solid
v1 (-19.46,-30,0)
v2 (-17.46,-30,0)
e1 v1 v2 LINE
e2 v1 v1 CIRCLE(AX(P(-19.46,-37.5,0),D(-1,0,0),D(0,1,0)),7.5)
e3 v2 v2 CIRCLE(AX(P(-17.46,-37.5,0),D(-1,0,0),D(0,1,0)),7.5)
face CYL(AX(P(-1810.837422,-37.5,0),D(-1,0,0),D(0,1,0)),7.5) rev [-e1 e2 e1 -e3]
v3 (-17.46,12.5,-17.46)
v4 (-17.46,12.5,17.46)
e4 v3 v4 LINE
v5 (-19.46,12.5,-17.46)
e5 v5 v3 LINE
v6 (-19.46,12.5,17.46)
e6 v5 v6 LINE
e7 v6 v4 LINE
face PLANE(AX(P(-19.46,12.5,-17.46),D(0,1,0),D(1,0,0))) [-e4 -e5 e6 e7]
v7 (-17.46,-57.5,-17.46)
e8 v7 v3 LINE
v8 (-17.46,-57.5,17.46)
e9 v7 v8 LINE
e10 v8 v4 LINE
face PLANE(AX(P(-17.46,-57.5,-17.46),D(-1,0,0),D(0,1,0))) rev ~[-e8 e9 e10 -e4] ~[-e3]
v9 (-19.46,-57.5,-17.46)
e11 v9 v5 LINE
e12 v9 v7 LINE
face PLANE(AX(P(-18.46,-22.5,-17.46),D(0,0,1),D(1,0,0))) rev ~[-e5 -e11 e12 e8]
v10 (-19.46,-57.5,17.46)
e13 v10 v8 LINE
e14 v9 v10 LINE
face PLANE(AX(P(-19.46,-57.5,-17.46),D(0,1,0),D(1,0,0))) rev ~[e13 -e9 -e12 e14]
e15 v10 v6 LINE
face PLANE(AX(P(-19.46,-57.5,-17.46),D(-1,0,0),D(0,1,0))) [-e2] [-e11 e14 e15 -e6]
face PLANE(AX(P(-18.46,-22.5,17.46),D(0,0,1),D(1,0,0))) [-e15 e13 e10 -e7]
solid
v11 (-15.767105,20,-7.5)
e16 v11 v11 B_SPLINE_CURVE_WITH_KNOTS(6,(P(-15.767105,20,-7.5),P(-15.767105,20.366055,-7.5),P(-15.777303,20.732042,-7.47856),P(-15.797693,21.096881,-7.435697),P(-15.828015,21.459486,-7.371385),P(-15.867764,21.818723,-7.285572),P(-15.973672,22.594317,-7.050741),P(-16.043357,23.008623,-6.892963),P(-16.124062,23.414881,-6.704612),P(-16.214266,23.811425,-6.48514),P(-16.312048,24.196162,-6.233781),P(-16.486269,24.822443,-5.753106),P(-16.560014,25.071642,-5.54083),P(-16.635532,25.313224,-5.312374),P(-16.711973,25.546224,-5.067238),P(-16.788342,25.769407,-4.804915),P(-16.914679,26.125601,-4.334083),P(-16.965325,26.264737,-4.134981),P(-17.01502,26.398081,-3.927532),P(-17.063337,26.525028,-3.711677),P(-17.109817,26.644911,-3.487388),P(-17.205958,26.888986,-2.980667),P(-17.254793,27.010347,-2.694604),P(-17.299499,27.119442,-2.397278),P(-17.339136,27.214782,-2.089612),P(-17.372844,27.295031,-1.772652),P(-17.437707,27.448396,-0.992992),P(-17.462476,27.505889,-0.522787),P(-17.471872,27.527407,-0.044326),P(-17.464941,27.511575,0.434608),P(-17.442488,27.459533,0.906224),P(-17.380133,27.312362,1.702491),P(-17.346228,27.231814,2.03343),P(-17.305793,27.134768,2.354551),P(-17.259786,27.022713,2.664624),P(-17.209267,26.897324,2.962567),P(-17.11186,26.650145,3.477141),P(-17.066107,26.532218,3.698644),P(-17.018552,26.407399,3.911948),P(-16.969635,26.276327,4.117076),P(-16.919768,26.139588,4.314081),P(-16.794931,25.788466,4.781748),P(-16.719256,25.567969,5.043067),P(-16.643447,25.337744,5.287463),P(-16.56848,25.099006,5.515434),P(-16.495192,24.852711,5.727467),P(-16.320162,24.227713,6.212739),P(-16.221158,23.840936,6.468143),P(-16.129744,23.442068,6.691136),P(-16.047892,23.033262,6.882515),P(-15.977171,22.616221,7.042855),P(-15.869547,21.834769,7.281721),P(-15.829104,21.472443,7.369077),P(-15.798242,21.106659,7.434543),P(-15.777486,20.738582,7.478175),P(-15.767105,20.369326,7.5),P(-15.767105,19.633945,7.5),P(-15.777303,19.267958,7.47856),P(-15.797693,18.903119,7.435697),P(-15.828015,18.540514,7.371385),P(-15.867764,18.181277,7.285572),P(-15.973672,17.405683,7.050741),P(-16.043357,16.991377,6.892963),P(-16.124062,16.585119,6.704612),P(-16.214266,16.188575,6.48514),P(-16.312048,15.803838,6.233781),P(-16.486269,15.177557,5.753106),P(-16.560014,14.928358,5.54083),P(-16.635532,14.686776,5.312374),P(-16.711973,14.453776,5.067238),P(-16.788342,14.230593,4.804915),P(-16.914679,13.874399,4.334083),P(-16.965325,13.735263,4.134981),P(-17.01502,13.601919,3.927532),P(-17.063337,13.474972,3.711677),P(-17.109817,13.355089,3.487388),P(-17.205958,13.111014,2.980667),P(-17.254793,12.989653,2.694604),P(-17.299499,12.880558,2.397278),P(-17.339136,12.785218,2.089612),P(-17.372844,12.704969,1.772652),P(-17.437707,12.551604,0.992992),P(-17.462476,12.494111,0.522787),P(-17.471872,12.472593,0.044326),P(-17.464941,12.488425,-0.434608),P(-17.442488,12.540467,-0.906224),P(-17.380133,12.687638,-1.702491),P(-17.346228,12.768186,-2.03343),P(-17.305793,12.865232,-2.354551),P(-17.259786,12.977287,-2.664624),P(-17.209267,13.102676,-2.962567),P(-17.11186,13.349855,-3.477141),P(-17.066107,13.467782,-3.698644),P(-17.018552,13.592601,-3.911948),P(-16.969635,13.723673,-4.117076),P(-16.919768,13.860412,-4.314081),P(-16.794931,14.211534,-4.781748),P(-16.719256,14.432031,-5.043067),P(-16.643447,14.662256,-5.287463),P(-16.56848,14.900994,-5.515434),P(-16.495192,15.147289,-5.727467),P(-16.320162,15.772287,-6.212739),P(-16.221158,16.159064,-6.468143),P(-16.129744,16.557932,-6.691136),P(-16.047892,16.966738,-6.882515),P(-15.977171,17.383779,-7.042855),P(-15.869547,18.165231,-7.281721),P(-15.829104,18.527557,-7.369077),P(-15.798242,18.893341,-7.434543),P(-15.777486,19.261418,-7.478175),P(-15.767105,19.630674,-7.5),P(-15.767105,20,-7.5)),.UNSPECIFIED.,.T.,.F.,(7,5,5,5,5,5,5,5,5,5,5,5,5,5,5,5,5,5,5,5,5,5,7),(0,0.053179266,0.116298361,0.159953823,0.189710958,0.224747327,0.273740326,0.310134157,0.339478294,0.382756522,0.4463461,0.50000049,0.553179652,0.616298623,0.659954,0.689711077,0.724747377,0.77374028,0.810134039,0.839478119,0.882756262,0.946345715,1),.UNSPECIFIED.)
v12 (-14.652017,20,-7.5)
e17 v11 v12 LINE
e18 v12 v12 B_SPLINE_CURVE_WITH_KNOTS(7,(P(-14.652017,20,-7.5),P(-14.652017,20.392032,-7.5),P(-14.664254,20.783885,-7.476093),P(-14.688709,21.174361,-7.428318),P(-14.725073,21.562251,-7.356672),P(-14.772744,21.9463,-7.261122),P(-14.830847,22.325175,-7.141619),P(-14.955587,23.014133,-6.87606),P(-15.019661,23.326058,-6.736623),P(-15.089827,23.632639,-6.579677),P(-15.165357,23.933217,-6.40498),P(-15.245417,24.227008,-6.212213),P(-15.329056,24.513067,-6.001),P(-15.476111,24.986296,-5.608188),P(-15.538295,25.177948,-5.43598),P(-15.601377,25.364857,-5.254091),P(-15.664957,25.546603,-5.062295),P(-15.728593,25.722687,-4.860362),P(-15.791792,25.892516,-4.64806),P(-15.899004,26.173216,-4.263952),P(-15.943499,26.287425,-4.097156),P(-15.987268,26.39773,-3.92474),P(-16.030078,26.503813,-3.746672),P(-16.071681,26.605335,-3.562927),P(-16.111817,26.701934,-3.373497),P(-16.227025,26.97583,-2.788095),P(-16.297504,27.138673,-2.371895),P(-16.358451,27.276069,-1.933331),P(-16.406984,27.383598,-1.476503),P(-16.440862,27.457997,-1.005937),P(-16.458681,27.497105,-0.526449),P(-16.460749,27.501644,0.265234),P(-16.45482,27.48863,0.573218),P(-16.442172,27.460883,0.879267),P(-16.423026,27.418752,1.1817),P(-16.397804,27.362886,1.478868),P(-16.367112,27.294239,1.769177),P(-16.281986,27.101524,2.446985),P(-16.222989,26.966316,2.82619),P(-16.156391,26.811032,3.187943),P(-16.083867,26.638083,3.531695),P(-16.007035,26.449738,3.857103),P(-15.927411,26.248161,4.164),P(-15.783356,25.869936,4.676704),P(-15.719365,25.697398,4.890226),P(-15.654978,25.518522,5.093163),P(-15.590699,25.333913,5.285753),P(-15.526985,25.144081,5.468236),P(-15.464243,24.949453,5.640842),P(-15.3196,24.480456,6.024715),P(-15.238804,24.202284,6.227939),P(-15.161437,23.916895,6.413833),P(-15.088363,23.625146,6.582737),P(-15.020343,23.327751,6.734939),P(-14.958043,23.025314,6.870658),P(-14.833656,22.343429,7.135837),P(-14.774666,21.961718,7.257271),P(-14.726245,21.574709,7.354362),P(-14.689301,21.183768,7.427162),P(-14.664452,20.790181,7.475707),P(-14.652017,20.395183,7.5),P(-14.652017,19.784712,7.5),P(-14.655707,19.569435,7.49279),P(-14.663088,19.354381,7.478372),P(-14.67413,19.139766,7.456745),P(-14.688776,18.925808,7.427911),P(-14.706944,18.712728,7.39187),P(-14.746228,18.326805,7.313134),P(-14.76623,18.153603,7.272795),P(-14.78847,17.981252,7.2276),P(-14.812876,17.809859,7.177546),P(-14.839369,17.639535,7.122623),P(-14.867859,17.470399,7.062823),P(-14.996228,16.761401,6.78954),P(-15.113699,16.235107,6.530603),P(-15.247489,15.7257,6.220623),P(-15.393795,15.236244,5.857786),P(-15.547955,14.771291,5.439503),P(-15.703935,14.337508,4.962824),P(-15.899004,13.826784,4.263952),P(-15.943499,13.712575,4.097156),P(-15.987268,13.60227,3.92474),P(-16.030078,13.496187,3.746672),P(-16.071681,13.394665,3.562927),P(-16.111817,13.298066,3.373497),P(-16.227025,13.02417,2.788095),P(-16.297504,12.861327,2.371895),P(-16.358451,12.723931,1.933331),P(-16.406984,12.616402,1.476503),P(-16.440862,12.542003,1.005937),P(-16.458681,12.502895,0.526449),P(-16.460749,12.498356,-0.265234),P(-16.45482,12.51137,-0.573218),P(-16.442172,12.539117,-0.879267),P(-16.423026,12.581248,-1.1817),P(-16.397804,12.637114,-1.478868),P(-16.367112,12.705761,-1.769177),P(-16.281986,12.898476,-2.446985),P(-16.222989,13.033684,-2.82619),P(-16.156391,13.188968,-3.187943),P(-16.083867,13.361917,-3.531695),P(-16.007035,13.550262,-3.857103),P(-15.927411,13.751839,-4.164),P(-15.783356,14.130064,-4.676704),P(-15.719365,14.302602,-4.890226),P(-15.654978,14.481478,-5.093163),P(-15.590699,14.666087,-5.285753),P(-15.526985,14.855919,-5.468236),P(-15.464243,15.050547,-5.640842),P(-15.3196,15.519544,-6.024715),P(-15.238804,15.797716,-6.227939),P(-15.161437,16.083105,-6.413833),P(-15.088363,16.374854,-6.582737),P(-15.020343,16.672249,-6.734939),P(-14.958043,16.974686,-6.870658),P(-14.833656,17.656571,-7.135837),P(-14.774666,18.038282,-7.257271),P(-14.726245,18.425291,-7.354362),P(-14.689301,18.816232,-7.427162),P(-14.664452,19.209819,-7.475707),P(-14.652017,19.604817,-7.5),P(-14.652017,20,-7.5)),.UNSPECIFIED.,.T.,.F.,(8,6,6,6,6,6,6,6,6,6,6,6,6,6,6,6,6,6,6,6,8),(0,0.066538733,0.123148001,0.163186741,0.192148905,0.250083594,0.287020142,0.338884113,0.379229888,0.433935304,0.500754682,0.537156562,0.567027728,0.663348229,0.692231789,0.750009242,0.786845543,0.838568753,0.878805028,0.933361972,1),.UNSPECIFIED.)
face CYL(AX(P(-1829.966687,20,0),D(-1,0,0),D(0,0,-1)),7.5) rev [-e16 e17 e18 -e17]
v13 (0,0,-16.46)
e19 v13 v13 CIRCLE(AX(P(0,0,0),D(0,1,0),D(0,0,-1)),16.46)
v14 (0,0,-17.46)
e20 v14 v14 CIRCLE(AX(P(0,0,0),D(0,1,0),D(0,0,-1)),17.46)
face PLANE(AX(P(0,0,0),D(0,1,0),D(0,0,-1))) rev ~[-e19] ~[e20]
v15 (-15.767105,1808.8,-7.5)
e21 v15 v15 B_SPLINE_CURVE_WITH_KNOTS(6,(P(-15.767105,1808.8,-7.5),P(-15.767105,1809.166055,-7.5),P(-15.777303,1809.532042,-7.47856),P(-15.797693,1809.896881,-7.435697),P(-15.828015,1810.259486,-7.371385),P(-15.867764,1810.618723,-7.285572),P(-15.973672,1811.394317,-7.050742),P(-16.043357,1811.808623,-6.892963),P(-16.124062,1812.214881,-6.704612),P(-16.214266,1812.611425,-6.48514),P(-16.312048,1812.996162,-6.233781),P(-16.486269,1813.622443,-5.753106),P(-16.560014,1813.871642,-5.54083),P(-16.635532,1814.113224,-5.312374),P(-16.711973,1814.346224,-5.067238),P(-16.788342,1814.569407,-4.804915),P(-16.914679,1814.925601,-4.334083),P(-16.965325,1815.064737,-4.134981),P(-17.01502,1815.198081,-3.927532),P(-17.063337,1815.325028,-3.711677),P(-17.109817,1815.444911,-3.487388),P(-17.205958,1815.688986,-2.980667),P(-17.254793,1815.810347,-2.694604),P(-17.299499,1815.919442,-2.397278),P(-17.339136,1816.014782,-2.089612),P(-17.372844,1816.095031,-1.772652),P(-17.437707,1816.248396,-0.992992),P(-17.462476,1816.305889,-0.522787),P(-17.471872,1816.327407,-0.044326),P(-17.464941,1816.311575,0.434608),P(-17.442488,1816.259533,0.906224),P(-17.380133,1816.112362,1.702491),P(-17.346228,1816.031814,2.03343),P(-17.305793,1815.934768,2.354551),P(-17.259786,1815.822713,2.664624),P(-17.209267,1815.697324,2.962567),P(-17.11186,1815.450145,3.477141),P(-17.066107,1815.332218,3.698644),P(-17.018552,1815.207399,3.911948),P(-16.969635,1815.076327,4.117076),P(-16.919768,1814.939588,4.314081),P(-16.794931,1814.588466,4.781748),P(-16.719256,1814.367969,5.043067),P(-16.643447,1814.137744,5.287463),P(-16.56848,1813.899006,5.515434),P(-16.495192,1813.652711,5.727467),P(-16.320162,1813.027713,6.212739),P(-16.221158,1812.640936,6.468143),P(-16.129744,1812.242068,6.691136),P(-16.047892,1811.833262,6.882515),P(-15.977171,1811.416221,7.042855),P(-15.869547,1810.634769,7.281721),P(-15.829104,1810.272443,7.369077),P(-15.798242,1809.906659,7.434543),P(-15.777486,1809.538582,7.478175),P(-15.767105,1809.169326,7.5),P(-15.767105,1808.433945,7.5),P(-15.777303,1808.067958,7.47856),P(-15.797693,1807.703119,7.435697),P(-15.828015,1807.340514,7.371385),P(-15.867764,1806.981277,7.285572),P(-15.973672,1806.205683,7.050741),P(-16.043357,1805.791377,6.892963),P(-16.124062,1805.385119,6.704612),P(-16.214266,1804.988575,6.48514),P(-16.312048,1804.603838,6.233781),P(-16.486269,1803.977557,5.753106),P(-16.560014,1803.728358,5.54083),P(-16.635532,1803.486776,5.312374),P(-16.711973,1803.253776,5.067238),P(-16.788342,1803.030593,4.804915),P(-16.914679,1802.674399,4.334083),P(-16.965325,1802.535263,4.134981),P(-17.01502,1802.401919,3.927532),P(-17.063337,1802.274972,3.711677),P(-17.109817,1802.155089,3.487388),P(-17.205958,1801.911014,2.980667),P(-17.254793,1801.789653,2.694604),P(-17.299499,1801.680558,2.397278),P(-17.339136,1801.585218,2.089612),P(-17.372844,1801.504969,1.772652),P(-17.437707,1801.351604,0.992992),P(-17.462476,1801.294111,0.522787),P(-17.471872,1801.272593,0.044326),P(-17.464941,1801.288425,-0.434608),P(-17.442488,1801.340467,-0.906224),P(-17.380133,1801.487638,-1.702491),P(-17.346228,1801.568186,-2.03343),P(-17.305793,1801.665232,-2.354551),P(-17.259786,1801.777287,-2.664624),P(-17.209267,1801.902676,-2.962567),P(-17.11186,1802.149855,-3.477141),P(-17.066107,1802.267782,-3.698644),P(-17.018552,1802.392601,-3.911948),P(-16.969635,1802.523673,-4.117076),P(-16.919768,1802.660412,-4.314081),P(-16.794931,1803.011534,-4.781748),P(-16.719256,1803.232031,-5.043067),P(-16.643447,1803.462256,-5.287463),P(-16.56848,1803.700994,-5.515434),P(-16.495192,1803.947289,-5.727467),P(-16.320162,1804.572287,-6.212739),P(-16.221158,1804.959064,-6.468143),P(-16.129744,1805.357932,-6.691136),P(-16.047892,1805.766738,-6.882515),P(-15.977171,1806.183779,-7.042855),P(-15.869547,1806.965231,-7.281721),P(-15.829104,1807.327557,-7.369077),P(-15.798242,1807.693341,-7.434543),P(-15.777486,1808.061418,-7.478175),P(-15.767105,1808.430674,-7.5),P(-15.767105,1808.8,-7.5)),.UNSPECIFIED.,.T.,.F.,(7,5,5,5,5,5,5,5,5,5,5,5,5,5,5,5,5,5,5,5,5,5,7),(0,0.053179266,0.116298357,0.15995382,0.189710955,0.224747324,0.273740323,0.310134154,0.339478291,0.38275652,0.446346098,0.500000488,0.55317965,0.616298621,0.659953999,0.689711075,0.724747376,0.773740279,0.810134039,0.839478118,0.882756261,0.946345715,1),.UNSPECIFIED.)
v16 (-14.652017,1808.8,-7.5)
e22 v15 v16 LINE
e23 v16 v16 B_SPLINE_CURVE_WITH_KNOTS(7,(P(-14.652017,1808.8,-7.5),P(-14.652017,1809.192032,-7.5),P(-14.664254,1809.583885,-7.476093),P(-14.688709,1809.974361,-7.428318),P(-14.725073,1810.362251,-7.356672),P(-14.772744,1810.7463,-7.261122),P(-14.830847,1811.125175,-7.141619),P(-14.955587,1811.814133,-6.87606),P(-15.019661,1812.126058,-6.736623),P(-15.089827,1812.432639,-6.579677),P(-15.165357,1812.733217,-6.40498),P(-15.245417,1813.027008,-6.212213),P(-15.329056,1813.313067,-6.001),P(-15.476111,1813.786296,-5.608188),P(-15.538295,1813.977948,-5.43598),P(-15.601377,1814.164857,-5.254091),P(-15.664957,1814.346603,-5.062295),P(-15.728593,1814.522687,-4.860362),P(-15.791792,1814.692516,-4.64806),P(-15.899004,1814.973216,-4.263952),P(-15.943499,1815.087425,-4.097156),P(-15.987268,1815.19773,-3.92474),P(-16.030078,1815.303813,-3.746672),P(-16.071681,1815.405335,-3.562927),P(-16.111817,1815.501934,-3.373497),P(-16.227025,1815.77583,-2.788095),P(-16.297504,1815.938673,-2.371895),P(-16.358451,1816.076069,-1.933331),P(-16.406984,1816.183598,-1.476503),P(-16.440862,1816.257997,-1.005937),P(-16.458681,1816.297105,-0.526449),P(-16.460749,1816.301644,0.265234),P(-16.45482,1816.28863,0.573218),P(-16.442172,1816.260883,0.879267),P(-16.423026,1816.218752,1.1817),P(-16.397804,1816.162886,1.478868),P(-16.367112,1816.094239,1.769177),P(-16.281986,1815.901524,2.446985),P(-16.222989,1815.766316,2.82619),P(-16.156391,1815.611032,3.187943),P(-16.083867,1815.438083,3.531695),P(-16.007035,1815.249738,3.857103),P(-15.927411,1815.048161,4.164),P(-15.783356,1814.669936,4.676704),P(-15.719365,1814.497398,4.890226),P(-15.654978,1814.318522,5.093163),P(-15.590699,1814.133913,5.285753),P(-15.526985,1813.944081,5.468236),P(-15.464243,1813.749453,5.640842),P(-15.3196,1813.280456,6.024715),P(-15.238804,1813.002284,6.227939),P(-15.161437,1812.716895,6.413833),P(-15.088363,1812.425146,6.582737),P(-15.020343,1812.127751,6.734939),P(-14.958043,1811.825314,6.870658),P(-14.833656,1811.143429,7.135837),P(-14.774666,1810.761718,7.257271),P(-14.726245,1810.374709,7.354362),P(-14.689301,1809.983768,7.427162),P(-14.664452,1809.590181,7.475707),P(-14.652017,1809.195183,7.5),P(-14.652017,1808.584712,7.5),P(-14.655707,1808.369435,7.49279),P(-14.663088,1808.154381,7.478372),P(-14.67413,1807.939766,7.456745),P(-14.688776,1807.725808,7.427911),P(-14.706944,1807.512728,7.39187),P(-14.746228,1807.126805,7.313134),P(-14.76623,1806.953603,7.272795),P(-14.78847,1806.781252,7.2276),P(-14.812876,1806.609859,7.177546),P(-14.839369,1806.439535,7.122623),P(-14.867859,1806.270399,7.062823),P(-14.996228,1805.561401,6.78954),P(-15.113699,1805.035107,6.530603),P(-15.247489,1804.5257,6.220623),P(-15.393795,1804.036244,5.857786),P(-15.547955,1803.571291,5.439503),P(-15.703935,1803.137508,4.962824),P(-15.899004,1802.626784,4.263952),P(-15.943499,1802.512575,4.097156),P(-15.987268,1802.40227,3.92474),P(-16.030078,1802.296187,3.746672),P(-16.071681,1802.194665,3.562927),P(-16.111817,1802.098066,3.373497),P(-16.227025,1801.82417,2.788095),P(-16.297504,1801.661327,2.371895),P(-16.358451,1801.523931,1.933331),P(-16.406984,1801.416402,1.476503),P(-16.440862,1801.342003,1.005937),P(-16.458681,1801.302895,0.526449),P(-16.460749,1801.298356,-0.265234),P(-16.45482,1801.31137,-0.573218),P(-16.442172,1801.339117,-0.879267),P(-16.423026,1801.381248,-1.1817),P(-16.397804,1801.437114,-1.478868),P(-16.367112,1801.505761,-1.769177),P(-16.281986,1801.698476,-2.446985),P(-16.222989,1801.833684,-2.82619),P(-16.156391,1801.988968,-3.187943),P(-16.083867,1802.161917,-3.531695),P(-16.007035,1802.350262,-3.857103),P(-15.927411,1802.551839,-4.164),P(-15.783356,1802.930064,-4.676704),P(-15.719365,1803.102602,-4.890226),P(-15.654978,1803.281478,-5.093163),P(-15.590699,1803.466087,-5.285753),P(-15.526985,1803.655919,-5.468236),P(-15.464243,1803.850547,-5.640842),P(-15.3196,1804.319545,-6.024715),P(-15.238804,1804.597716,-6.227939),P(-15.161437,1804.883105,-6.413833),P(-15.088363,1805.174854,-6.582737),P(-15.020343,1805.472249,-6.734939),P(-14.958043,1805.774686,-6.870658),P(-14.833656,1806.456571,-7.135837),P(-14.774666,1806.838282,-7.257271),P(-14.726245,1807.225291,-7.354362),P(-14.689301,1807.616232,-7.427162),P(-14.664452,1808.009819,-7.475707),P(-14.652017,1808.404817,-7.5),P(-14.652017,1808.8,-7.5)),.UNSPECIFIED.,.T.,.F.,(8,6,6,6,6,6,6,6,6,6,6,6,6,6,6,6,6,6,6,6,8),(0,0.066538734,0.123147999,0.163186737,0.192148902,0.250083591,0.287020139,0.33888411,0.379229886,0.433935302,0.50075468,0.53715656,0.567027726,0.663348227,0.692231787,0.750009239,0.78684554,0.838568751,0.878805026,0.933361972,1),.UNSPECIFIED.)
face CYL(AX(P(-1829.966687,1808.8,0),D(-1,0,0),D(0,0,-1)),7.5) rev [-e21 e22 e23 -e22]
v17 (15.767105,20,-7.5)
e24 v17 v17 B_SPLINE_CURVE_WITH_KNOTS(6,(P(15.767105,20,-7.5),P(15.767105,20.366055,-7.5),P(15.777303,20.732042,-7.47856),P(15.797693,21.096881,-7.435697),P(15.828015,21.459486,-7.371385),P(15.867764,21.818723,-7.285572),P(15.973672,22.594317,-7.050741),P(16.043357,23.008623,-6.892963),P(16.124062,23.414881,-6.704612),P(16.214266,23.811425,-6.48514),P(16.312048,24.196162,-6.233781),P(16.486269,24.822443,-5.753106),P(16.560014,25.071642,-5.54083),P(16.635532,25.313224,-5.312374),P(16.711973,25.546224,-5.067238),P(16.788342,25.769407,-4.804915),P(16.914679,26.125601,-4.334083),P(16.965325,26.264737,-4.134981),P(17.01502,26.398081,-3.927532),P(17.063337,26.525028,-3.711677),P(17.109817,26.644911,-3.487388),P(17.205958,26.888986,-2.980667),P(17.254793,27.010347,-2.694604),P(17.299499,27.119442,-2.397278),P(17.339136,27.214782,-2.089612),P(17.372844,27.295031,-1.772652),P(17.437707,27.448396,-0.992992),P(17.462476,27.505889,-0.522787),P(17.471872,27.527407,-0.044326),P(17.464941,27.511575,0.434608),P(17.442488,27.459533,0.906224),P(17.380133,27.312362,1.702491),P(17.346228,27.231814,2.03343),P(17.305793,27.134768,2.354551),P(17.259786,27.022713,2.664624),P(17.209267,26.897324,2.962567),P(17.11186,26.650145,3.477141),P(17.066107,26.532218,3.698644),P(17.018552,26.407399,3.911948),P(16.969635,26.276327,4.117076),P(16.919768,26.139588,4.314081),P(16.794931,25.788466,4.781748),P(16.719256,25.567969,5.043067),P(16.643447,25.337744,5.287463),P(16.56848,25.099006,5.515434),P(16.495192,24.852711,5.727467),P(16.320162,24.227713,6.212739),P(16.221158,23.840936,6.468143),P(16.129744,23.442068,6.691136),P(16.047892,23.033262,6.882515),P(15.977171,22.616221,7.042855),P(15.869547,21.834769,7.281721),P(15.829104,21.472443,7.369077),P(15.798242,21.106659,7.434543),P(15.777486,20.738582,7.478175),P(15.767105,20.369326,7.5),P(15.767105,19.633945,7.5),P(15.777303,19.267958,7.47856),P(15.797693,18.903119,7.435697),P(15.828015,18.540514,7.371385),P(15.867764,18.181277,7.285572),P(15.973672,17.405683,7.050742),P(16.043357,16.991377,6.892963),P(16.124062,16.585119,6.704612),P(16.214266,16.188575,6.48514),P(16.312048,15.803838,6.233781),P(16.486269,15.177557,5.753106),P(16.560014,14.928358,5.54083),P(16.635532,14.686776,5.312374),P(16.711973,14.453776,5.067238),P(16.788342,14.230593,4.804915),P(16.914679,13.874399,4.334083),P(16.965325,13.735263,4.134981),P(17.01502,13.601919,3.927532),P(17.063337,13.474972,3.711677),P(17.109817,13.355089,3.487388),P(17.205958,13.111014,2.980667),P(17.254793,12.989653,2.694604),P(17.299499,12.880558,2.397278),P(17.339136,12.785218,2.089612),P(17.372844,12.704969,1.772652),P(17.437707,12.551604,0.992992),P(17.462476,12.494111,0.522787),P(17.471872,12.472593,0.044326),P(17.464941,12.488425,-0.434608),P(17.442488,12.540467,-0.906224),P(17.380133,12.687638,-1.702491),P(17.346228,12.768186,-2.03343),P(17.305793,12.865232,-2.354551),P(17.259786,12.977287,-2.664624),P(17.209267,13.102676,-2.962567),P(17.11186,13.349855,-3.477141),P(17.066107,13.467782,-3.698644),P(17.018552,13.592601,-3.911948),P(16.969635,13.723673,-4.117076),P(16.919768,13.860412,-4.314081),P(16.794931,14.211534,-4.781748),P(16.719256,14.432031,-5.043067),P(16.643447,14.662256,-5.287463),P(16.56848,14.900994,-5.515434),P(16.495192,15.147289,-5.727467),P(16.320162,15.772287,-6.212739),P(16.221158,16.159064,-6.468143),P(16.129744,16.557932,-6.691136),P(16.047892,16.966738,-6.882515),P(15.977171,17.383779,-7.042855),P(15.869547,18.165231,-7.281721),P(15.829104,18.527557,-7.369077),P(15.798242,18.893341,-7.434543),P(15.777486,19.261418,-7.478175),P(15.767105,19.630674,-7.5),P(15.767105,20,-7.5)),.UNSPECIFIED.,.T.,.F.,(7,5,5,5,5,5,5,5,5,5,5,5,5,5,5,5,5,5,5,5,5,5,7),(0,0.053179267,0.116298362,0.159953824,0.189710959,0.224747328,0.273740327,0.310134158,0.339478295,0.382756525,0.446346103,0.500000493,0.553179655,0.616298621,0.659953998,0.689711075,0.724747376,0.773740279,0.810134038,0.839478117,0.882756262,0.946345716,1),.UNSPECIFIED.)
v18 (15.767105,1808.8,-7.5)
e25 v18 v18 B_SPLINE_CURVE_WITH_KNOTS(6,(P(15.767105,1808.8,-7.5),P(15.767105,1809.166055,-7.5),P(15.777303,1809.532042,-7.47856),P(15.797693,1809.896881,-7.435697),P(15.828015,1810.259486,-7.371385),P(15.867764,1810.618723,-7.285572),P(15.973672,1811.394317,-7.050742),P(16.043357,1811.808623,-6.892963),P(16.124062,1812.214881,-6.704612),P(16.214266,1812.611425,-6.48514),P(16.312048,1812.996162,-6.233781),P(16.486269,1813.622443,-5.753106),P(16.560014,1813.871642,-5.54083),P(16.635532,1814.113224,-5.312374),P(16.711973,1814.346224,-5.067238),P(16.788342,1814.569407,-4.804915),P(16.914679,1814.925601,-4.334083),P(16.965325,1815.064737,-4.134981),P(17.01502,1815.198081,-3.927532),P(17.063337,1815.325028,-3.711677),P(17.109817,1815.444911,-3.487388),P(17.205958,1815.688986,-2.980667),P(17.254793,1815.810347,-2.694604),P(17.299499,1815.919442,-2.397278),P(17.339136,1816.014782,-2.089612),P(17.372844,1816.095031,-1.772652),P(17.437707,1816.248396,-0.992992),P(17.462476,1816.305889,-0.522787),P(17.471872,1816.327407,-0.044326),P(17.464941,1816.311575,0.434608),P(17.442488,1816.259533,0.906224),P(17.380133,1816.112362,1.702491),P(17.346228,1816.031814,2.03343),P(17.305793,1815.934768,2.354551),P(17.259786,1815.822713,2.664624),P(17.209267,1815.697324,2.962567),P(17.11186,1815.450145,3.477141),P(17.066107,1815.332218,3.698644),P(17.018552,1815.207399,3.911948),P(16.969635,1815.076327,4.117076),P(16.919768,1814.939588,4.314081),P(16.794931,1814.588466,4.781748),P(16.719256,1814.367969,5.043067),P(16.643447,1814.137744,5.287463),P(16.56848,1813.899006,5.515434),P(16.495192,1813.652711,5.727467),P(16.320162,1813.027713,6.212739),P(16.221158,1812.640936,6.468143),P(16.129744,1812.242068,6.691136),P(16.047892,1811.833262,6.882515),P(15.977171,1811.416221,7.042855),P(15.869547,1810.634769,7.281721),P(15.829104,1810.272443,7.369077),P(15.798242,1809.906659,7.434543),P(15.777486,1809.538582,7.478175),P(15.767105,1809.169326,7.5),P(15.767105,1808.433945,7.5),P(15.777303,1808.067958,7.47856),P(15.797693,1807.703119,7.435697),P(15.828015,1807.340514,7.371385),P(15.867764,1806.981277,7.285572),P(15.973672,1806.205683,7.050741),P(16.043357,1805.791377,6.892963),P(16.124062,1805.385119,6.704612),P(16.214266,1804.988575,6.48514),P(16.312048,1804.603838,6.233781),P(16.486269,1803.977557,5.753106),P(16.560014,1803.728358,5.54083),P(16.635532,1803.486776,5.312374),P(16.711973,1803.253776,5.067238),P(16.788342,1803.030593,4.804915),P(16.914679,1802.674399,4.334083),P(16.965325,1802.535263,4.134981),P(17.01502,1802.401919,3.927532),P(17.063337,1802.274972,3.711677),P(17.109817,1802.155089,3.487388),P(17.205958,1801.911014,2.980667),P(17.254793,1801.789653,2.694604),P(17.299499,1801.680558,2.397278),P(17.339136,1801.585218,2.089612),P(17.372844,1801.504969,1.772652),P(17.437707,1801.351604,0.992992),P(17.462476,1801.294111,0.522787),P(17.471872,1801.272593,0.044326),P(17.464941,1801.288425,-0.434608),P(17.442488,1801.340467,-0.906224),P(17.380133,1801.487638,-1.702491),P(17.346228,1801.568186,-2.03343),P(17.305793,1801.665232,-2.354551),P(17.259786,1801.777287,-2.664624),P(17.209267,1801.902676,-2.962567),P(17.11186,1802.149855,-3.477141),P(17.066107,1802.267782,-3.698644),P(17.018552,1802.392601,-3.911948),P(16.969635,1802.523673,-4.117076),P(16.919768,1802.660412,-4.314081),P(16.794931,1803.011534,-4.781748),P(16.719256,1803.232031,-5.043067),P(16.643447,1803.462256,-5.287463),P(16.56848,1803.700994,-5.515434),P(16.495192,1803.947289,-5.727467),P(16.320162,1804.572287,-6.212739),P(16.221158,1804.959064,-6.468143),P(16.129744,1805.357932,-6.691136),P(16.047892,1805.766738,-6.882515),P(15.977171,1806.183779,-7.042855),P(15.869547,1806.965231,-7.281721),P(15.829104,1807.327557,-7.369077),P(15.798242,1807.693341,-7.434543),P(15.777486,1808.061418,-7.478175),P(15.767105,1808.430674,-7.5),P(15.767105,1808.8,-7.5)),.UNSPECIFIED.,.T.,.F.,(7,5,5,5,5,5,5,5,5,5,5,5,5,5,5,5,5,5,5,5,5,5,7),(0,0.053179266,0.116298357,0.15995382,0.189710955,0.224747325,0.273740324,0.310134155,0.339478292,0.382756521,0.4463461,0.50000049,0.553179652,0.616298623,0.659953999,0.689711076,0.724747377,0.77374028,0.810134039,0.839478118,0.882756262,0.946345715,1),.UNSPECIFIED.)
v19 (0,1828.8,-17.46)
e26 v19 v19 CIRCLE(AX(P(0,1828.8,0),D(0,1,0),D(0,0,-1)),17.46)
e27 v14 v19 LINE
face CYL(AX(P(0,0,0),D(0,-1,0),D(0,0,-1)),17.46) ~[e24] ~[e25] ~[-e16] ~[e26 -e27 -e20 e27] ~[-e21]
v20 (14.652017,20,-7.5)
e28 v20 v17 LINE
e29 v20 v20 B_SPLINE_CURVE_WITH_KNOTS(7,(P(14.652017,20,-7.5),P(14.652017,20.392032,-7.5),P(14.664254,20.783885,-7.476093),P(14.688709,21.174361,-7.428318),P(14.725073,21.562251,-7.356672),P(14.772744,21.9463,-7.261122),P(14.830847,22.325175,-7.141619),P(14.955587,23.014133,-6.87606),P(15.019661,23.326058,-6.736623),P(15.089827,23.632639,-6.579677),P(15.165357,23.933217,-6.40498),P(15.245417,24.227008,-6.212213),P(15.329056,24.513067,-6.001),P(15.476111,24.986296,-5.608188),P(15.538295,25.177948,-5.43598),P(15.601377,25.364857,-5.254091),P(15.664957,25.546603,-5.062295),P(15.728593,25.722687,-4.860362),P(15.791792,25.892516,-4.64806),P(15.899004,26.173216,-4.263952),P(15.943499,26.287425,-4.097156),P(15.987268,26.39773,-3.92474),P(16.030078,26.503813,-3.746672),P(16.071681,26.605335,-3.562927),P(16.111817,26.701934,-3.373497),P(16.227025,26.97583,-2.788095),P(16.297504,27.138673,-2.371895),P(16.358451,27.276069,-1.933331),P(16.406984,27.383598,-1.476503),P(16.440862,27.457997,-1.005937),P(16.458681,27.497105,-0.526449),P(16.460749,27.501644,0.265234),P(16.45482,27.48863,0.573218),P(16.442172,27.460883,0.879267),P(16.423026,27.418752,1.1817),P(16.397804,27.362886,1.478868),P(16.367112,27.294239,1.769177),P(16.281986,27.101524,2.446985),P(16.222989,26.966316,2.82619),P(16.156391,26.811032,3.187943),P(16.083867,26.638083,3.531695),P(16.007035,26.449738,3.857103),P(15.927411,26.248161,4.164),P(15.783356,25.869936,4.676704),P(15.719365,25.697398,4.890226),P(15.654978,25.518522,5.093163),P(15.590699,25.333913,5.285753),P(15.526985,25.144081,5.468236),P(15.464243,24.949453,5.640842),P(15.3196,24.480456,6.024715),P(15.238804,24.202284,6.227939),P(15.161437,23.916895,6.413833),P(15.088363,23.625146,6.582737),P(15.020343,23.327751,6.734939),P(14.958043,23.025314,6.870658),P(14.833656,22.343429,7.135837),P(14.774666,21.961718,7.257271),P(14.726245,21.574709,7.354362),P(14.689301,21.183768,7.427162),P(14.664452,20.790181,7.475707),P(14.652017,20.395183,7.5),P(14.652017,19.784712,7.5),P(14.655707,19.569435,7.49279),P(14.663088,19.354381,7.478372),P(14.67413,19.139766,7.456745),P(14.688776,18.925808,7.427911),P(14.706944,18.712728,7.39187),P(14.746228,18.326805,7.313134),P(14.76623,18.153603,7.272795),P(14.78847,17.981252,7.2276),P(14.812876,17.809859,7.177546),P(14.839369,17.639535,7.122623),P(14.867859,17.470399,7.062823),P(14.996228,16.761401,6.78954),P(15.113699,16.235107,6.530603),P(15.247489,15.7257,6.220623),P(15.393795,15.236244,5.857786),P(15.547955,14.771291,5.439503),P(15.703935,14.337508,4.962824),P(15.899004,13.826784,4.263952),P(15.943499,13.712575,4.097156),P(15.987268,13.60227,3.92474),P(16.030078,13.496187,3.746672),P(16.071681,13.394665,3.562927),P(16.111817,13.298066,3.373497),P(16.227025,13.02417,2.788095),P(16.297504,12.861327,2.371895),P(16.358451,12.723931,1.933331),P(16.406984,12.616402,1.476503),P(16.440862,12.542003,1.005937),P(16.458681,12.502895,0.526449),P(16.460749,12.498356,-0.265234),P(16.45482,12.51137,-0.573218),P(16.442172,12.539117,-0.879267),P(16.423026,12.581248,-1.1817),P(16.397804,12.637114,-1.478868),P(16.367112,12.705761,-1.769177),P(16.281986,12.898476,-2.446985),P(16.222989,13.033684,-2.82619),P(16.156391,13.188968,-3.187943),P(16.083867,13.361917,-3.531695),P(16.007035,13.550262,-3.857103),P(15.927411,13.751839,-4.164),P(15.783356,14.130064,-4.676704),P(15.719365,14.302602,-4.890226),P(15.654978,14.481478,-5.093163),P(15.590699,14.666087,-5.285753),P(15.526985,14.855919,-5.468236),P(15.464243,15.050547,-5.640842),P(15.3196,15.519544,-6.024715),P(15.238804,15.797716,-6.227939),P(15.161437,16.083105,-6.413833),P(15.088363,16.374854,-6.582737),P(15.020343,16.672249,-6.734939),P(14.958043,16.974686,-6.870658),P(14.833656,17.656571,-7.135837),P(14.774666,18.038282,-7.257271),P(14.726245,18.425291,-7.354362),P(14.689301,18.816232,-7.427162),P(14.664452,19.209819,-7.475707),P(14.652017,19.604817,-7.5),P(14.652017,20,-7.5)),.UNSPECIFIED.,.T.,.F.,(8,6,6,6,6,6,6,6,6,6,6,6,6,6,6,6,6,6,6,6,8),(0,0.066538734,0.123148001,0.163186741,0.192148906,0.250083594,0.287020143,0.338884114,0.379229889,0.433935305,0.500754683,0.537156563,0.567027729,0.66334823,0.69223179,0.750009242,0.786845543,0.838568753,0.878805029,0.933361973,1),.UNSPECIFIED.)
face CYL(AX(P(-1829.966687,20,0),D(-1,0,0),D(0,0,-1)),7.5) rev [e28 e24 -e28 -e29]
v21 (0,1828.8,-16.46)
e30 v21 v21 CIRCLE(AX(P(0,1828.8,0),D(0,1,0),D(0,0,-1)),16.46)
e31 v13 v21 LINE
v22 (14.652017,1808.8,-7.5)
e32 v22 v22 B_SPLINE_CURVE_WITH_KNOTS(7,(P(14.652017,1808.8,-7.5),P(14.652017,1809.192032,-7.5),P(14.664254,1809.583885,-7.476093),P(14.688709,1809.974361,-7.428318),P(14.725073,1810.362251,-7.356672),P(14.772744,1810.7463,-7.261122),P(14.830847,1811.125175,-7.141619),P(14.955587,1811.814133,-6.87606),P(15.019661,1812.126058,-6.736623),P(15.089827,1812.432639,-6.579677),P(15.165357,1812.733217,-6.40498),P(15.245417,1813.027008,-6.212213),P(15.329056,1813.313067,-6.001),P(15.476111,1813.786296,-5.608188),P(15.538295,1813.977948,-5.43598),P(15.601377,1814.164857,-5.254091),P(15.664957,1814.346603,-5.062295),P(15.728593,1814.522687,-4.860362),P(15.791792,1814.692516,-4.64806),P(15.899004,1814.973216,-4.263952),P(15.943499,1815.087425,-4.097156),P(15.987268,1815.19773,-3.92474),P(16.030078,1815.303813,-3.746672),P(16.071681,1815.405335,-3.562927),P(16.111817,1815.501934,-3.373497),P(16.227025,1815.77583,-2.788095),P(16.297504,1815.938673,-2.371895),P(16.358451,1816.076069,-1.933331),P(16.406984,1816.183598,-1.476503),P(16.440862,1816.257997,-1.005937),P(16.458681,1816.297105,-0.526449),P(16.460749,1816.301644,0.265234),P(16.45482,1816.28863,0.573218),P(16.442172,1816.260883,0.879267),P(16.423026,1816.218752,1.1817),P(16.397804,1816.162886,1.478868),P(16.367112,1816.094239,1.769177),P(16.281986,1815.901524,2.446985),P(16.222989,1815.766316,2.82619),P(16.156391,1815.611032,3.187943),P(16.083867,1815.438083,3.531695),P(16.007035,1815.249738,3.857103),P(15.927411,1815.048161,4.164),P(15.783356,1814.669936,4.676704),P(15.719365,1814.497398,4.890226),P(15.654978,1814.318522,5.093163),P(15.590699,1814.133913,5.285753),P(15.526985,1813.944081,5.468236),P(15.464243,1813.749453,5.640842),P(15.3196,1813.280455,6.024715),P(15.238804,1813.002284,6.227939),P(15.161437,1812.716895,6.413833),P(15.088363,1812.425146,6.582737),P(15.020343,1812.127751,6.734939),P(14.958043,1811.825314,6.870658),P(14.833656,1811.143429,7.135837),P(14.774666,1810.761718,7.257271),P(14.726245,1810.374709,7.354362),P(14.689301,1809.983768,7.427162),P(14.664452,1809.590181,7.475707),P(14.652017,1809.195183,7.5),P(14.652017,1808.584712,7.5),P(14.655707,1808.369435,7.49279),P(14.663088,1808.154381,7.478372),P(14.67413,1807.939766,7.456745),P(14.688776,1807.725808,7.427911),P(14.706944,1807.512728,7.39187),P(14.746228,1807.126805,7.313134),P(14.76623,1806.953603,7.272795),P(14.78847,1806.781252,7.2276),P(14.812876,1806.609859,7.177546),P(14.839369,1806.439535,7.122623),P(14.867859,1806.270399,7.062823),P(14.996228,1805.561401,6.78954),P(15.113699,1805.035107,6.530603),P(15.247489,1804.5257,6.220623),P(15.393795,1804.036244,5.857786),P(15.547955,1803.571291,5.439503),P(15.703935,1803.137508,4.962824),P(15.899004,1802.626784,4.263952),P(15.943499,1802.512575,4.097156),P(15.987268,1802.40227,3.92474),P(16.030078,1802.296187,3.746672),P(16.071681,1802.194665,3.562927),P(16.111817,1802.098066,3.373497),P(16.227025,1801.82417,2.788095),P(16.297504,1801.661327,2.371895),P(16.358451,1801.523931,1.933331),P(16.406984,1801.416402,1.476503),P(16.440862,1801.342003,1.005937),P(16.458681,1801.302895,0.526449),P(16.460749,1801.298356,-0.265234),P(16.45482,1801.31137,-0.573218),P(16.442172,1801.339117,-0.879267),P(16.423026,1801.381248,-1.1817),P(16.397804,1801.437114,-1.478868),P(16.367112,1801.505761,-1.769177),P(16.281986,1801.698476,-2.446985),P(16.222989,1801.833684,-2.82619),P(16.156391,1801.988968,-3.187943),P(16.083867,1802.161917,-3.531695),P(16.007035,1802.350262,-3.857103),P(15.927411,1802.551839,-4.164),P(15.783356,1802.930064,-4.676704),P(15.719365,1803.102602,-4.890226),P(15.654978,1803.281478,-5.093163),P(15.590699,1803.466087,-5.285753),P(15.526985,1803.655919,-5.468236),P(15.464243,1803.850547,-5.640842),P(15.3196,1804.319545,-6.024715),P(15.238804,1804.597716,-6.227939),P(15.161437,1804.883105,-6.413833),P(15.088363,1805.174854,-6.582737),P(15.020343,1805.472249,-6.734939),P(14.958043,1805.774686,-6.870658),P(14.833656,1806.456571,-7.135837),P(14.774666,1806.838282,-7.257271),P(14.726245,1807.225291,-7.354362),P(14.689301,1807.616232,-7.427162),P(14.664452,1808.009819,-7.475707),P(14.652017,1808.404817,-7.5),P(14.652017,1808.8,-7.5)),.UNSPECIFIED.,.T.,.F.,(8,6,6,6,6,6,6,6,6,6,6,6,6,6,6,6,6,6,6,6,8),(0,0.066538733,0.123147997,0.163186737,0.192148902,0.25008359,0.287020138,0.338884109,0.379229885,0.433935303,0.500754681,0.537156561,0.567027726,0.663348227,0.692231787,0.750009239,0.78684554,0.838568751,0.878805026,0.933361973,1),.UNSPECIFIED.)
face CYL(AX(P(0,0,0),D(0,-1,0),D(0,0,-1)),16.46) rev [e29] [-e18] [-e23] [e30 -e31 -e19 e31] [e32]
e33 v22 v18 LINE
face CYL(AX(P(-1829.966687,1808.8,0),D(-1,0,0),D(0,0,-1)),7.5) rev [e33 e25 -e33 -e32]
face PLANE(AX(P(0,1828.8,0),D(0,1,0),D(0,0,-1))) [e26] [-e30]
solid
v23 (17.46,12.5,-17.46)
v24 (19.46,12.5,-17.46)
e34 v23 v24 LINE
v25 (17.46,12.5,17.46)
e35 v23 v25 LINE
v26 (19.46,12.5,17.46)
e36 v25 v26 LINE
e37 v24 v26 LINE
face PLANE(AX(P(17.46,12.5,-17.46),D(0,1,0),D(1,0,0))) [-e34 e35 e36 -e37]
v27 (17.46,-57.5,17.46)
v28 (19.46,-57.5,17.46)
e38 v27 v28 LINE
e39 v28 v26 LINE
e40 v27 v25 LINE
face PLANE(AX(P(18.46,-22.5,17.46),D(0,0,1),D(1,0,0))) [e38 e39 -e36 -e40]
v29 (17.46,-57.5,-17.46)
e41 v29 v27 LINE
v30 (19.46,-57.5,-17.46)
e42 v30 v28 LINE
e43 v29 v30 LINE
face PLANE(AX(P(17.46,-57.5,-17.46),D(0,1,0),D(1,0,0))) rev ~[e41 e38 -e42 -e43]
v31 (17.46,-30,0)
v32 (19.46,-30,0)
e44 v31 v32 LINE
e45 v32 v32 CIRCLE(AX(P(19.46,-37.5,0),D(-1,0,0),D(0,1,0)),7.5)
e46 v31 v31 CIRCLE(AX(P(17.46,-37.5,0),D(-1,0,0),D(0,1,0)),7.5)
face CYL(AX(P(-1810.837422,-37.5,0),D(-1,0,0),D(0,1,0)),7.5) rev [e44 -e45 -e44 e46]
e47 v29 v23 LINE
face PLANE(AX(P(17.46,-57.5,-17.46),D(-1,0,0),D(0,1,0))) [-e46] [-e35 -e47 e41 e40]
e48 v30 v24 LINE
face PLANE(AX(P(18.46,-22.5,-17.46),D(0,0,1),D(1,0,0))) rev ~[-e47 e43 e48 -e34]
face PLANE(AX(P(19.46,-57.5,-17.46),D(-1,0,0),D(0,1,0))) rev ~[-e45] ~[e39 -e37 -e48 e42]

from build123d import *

# Parameters (mm, degrees)
SKETCH1_R                  = 17.46
SKETCH1_R_2                = 16.46
BOSS_EXTRUDE1_DEPTH        = 1828.8
CUT_EXTRUDE1_DEPTH         = 1829.966687285
CUT_EXTRUDE1_DEPTH_BACK    = 1829.966687285
SKETCH2_R                  = 7.5
BOSS_EXTRUDE2_DEPTH        = 17.46
BOSS_EXTRUDE2_DEPTH_BACK   = 17.46
SKETCH3_W                  = 2
SKETCH3_H                  = 70
BOSS_EXTRUDE2_2_DEPTH      = 17.46
BOSS_EXTRUDE2_2_DEPTH_BACK = 17.46
CUT_EXTRUDE2_DEPTH         = 1830.297422064
CUT_EXTRUDE2_DEPTH_BACK    = 1830.297422064
SKETCH4_R                  = 7.5


with BuildPart() as part:
    # Sketch1 → Boss-Extrude1 (new body)
    with BuildSketch(Plane(origin=(0, 0, 0), x_dir=(1, 0, 0), z_dir=(0, 1, 0))):
        Circle(SKETCH1_R)
        Circle(SKETCH1_R_2, mode=Mode.SUBTRACT)
    extrude(amount=BOSS_EXTRUDE1_DEPTH)

    # Sketch2 → Cut-Extrude1 (cut, two sides: drawn at the far end of the back side and taken through both)
    with BuildSketch(Plane(origin=(0, 0, 0), x_dir=(0, 0, -1), z_dir=(1, 0, 0)).offset(-CUT_EXTRUDE1_DEPTH_BACK)):
        with Locations((0, 1808.8)):
            Circle(SKETCH2_R)
        with Locations((0, 20)):
            Circle(SKETCH2_R)
    extrude(amount=CUT_EXTRUDE1_DEPTH + CUT_EXTRUDE1_DEPTH_BACK, mode=Mode.SUBTRACT)


with BuildPart() as body_2:
    # Sketch3 → Boss-Extrude2 (new, two sides: drawn at the far end of the back side and taken through both)
    with BuildSketch(Plane.XY.offset(-BOSS_EXTRUDE2_DEPTH_BACK)):
        with Locations((-18.46, -22.5)):
            Rectangle(SKETCH3_W, SKETCH3_H)
    extrude(amount=BOSS_EXTRUDE2_DEPTH + BOSS_EXTRUDE2_DEPTH_BACK)


with BuildPart() as body_3:
    # Sketch3 → Boss-Extrude2 2 (new, two sides: drawn at the far end of the back side and taken through both)
    with BuildSketch(Plane.XY.offset(-BOSS_EXTRUDE2_2_DEPTH_BACK)):
        with Locations((18.46, -22.5)):
            Rectangle(SKETCH3_W, SKETCH3_H)
    extrude(amount=BOSS_EXTRUDE2_2_DEPTH + BOSS_EXTRUDE2_2_DEPTH_BACK)


with BuildPart() as cut_extrude2_tool:
    # Sketch4 → Cut-Extrude2 (new, two sides: drawn at the far end of the back side and taken through both)
    with BuildSketch(Plane(origin=(19.46, 0, 0), x_dir=(0, 0, -1), z_dir=(1, 0, 0)).offset(-CUT_EXTRUDE2_DEPTH_BACK)):
        with Locations((0, -37.5)):
            Circle(SKETCH4_R)
    extrude(amount=CUT_EXTRUDE2_DEPTH + CUT_EXTRUDE2_DEPTH_BACK)


with BuildPart() as body_2_1:
    add(body_2.part)

    # Cut-Extrude2: cut by cut_extrude2_tool
    add(cut_extrude2_tool.part, mode=Mode.SUBTRACT)


with BuildPart() as body_3_1:
    add(body_3.part)

    # Cut-Extrude2: cut by cut_extrude2_tool
    add(cut_extrude2_tool.part, mode=Mode.SUBTRACT)


solid = Compound([part.part, body_2_1.part, body_3_1.part])
